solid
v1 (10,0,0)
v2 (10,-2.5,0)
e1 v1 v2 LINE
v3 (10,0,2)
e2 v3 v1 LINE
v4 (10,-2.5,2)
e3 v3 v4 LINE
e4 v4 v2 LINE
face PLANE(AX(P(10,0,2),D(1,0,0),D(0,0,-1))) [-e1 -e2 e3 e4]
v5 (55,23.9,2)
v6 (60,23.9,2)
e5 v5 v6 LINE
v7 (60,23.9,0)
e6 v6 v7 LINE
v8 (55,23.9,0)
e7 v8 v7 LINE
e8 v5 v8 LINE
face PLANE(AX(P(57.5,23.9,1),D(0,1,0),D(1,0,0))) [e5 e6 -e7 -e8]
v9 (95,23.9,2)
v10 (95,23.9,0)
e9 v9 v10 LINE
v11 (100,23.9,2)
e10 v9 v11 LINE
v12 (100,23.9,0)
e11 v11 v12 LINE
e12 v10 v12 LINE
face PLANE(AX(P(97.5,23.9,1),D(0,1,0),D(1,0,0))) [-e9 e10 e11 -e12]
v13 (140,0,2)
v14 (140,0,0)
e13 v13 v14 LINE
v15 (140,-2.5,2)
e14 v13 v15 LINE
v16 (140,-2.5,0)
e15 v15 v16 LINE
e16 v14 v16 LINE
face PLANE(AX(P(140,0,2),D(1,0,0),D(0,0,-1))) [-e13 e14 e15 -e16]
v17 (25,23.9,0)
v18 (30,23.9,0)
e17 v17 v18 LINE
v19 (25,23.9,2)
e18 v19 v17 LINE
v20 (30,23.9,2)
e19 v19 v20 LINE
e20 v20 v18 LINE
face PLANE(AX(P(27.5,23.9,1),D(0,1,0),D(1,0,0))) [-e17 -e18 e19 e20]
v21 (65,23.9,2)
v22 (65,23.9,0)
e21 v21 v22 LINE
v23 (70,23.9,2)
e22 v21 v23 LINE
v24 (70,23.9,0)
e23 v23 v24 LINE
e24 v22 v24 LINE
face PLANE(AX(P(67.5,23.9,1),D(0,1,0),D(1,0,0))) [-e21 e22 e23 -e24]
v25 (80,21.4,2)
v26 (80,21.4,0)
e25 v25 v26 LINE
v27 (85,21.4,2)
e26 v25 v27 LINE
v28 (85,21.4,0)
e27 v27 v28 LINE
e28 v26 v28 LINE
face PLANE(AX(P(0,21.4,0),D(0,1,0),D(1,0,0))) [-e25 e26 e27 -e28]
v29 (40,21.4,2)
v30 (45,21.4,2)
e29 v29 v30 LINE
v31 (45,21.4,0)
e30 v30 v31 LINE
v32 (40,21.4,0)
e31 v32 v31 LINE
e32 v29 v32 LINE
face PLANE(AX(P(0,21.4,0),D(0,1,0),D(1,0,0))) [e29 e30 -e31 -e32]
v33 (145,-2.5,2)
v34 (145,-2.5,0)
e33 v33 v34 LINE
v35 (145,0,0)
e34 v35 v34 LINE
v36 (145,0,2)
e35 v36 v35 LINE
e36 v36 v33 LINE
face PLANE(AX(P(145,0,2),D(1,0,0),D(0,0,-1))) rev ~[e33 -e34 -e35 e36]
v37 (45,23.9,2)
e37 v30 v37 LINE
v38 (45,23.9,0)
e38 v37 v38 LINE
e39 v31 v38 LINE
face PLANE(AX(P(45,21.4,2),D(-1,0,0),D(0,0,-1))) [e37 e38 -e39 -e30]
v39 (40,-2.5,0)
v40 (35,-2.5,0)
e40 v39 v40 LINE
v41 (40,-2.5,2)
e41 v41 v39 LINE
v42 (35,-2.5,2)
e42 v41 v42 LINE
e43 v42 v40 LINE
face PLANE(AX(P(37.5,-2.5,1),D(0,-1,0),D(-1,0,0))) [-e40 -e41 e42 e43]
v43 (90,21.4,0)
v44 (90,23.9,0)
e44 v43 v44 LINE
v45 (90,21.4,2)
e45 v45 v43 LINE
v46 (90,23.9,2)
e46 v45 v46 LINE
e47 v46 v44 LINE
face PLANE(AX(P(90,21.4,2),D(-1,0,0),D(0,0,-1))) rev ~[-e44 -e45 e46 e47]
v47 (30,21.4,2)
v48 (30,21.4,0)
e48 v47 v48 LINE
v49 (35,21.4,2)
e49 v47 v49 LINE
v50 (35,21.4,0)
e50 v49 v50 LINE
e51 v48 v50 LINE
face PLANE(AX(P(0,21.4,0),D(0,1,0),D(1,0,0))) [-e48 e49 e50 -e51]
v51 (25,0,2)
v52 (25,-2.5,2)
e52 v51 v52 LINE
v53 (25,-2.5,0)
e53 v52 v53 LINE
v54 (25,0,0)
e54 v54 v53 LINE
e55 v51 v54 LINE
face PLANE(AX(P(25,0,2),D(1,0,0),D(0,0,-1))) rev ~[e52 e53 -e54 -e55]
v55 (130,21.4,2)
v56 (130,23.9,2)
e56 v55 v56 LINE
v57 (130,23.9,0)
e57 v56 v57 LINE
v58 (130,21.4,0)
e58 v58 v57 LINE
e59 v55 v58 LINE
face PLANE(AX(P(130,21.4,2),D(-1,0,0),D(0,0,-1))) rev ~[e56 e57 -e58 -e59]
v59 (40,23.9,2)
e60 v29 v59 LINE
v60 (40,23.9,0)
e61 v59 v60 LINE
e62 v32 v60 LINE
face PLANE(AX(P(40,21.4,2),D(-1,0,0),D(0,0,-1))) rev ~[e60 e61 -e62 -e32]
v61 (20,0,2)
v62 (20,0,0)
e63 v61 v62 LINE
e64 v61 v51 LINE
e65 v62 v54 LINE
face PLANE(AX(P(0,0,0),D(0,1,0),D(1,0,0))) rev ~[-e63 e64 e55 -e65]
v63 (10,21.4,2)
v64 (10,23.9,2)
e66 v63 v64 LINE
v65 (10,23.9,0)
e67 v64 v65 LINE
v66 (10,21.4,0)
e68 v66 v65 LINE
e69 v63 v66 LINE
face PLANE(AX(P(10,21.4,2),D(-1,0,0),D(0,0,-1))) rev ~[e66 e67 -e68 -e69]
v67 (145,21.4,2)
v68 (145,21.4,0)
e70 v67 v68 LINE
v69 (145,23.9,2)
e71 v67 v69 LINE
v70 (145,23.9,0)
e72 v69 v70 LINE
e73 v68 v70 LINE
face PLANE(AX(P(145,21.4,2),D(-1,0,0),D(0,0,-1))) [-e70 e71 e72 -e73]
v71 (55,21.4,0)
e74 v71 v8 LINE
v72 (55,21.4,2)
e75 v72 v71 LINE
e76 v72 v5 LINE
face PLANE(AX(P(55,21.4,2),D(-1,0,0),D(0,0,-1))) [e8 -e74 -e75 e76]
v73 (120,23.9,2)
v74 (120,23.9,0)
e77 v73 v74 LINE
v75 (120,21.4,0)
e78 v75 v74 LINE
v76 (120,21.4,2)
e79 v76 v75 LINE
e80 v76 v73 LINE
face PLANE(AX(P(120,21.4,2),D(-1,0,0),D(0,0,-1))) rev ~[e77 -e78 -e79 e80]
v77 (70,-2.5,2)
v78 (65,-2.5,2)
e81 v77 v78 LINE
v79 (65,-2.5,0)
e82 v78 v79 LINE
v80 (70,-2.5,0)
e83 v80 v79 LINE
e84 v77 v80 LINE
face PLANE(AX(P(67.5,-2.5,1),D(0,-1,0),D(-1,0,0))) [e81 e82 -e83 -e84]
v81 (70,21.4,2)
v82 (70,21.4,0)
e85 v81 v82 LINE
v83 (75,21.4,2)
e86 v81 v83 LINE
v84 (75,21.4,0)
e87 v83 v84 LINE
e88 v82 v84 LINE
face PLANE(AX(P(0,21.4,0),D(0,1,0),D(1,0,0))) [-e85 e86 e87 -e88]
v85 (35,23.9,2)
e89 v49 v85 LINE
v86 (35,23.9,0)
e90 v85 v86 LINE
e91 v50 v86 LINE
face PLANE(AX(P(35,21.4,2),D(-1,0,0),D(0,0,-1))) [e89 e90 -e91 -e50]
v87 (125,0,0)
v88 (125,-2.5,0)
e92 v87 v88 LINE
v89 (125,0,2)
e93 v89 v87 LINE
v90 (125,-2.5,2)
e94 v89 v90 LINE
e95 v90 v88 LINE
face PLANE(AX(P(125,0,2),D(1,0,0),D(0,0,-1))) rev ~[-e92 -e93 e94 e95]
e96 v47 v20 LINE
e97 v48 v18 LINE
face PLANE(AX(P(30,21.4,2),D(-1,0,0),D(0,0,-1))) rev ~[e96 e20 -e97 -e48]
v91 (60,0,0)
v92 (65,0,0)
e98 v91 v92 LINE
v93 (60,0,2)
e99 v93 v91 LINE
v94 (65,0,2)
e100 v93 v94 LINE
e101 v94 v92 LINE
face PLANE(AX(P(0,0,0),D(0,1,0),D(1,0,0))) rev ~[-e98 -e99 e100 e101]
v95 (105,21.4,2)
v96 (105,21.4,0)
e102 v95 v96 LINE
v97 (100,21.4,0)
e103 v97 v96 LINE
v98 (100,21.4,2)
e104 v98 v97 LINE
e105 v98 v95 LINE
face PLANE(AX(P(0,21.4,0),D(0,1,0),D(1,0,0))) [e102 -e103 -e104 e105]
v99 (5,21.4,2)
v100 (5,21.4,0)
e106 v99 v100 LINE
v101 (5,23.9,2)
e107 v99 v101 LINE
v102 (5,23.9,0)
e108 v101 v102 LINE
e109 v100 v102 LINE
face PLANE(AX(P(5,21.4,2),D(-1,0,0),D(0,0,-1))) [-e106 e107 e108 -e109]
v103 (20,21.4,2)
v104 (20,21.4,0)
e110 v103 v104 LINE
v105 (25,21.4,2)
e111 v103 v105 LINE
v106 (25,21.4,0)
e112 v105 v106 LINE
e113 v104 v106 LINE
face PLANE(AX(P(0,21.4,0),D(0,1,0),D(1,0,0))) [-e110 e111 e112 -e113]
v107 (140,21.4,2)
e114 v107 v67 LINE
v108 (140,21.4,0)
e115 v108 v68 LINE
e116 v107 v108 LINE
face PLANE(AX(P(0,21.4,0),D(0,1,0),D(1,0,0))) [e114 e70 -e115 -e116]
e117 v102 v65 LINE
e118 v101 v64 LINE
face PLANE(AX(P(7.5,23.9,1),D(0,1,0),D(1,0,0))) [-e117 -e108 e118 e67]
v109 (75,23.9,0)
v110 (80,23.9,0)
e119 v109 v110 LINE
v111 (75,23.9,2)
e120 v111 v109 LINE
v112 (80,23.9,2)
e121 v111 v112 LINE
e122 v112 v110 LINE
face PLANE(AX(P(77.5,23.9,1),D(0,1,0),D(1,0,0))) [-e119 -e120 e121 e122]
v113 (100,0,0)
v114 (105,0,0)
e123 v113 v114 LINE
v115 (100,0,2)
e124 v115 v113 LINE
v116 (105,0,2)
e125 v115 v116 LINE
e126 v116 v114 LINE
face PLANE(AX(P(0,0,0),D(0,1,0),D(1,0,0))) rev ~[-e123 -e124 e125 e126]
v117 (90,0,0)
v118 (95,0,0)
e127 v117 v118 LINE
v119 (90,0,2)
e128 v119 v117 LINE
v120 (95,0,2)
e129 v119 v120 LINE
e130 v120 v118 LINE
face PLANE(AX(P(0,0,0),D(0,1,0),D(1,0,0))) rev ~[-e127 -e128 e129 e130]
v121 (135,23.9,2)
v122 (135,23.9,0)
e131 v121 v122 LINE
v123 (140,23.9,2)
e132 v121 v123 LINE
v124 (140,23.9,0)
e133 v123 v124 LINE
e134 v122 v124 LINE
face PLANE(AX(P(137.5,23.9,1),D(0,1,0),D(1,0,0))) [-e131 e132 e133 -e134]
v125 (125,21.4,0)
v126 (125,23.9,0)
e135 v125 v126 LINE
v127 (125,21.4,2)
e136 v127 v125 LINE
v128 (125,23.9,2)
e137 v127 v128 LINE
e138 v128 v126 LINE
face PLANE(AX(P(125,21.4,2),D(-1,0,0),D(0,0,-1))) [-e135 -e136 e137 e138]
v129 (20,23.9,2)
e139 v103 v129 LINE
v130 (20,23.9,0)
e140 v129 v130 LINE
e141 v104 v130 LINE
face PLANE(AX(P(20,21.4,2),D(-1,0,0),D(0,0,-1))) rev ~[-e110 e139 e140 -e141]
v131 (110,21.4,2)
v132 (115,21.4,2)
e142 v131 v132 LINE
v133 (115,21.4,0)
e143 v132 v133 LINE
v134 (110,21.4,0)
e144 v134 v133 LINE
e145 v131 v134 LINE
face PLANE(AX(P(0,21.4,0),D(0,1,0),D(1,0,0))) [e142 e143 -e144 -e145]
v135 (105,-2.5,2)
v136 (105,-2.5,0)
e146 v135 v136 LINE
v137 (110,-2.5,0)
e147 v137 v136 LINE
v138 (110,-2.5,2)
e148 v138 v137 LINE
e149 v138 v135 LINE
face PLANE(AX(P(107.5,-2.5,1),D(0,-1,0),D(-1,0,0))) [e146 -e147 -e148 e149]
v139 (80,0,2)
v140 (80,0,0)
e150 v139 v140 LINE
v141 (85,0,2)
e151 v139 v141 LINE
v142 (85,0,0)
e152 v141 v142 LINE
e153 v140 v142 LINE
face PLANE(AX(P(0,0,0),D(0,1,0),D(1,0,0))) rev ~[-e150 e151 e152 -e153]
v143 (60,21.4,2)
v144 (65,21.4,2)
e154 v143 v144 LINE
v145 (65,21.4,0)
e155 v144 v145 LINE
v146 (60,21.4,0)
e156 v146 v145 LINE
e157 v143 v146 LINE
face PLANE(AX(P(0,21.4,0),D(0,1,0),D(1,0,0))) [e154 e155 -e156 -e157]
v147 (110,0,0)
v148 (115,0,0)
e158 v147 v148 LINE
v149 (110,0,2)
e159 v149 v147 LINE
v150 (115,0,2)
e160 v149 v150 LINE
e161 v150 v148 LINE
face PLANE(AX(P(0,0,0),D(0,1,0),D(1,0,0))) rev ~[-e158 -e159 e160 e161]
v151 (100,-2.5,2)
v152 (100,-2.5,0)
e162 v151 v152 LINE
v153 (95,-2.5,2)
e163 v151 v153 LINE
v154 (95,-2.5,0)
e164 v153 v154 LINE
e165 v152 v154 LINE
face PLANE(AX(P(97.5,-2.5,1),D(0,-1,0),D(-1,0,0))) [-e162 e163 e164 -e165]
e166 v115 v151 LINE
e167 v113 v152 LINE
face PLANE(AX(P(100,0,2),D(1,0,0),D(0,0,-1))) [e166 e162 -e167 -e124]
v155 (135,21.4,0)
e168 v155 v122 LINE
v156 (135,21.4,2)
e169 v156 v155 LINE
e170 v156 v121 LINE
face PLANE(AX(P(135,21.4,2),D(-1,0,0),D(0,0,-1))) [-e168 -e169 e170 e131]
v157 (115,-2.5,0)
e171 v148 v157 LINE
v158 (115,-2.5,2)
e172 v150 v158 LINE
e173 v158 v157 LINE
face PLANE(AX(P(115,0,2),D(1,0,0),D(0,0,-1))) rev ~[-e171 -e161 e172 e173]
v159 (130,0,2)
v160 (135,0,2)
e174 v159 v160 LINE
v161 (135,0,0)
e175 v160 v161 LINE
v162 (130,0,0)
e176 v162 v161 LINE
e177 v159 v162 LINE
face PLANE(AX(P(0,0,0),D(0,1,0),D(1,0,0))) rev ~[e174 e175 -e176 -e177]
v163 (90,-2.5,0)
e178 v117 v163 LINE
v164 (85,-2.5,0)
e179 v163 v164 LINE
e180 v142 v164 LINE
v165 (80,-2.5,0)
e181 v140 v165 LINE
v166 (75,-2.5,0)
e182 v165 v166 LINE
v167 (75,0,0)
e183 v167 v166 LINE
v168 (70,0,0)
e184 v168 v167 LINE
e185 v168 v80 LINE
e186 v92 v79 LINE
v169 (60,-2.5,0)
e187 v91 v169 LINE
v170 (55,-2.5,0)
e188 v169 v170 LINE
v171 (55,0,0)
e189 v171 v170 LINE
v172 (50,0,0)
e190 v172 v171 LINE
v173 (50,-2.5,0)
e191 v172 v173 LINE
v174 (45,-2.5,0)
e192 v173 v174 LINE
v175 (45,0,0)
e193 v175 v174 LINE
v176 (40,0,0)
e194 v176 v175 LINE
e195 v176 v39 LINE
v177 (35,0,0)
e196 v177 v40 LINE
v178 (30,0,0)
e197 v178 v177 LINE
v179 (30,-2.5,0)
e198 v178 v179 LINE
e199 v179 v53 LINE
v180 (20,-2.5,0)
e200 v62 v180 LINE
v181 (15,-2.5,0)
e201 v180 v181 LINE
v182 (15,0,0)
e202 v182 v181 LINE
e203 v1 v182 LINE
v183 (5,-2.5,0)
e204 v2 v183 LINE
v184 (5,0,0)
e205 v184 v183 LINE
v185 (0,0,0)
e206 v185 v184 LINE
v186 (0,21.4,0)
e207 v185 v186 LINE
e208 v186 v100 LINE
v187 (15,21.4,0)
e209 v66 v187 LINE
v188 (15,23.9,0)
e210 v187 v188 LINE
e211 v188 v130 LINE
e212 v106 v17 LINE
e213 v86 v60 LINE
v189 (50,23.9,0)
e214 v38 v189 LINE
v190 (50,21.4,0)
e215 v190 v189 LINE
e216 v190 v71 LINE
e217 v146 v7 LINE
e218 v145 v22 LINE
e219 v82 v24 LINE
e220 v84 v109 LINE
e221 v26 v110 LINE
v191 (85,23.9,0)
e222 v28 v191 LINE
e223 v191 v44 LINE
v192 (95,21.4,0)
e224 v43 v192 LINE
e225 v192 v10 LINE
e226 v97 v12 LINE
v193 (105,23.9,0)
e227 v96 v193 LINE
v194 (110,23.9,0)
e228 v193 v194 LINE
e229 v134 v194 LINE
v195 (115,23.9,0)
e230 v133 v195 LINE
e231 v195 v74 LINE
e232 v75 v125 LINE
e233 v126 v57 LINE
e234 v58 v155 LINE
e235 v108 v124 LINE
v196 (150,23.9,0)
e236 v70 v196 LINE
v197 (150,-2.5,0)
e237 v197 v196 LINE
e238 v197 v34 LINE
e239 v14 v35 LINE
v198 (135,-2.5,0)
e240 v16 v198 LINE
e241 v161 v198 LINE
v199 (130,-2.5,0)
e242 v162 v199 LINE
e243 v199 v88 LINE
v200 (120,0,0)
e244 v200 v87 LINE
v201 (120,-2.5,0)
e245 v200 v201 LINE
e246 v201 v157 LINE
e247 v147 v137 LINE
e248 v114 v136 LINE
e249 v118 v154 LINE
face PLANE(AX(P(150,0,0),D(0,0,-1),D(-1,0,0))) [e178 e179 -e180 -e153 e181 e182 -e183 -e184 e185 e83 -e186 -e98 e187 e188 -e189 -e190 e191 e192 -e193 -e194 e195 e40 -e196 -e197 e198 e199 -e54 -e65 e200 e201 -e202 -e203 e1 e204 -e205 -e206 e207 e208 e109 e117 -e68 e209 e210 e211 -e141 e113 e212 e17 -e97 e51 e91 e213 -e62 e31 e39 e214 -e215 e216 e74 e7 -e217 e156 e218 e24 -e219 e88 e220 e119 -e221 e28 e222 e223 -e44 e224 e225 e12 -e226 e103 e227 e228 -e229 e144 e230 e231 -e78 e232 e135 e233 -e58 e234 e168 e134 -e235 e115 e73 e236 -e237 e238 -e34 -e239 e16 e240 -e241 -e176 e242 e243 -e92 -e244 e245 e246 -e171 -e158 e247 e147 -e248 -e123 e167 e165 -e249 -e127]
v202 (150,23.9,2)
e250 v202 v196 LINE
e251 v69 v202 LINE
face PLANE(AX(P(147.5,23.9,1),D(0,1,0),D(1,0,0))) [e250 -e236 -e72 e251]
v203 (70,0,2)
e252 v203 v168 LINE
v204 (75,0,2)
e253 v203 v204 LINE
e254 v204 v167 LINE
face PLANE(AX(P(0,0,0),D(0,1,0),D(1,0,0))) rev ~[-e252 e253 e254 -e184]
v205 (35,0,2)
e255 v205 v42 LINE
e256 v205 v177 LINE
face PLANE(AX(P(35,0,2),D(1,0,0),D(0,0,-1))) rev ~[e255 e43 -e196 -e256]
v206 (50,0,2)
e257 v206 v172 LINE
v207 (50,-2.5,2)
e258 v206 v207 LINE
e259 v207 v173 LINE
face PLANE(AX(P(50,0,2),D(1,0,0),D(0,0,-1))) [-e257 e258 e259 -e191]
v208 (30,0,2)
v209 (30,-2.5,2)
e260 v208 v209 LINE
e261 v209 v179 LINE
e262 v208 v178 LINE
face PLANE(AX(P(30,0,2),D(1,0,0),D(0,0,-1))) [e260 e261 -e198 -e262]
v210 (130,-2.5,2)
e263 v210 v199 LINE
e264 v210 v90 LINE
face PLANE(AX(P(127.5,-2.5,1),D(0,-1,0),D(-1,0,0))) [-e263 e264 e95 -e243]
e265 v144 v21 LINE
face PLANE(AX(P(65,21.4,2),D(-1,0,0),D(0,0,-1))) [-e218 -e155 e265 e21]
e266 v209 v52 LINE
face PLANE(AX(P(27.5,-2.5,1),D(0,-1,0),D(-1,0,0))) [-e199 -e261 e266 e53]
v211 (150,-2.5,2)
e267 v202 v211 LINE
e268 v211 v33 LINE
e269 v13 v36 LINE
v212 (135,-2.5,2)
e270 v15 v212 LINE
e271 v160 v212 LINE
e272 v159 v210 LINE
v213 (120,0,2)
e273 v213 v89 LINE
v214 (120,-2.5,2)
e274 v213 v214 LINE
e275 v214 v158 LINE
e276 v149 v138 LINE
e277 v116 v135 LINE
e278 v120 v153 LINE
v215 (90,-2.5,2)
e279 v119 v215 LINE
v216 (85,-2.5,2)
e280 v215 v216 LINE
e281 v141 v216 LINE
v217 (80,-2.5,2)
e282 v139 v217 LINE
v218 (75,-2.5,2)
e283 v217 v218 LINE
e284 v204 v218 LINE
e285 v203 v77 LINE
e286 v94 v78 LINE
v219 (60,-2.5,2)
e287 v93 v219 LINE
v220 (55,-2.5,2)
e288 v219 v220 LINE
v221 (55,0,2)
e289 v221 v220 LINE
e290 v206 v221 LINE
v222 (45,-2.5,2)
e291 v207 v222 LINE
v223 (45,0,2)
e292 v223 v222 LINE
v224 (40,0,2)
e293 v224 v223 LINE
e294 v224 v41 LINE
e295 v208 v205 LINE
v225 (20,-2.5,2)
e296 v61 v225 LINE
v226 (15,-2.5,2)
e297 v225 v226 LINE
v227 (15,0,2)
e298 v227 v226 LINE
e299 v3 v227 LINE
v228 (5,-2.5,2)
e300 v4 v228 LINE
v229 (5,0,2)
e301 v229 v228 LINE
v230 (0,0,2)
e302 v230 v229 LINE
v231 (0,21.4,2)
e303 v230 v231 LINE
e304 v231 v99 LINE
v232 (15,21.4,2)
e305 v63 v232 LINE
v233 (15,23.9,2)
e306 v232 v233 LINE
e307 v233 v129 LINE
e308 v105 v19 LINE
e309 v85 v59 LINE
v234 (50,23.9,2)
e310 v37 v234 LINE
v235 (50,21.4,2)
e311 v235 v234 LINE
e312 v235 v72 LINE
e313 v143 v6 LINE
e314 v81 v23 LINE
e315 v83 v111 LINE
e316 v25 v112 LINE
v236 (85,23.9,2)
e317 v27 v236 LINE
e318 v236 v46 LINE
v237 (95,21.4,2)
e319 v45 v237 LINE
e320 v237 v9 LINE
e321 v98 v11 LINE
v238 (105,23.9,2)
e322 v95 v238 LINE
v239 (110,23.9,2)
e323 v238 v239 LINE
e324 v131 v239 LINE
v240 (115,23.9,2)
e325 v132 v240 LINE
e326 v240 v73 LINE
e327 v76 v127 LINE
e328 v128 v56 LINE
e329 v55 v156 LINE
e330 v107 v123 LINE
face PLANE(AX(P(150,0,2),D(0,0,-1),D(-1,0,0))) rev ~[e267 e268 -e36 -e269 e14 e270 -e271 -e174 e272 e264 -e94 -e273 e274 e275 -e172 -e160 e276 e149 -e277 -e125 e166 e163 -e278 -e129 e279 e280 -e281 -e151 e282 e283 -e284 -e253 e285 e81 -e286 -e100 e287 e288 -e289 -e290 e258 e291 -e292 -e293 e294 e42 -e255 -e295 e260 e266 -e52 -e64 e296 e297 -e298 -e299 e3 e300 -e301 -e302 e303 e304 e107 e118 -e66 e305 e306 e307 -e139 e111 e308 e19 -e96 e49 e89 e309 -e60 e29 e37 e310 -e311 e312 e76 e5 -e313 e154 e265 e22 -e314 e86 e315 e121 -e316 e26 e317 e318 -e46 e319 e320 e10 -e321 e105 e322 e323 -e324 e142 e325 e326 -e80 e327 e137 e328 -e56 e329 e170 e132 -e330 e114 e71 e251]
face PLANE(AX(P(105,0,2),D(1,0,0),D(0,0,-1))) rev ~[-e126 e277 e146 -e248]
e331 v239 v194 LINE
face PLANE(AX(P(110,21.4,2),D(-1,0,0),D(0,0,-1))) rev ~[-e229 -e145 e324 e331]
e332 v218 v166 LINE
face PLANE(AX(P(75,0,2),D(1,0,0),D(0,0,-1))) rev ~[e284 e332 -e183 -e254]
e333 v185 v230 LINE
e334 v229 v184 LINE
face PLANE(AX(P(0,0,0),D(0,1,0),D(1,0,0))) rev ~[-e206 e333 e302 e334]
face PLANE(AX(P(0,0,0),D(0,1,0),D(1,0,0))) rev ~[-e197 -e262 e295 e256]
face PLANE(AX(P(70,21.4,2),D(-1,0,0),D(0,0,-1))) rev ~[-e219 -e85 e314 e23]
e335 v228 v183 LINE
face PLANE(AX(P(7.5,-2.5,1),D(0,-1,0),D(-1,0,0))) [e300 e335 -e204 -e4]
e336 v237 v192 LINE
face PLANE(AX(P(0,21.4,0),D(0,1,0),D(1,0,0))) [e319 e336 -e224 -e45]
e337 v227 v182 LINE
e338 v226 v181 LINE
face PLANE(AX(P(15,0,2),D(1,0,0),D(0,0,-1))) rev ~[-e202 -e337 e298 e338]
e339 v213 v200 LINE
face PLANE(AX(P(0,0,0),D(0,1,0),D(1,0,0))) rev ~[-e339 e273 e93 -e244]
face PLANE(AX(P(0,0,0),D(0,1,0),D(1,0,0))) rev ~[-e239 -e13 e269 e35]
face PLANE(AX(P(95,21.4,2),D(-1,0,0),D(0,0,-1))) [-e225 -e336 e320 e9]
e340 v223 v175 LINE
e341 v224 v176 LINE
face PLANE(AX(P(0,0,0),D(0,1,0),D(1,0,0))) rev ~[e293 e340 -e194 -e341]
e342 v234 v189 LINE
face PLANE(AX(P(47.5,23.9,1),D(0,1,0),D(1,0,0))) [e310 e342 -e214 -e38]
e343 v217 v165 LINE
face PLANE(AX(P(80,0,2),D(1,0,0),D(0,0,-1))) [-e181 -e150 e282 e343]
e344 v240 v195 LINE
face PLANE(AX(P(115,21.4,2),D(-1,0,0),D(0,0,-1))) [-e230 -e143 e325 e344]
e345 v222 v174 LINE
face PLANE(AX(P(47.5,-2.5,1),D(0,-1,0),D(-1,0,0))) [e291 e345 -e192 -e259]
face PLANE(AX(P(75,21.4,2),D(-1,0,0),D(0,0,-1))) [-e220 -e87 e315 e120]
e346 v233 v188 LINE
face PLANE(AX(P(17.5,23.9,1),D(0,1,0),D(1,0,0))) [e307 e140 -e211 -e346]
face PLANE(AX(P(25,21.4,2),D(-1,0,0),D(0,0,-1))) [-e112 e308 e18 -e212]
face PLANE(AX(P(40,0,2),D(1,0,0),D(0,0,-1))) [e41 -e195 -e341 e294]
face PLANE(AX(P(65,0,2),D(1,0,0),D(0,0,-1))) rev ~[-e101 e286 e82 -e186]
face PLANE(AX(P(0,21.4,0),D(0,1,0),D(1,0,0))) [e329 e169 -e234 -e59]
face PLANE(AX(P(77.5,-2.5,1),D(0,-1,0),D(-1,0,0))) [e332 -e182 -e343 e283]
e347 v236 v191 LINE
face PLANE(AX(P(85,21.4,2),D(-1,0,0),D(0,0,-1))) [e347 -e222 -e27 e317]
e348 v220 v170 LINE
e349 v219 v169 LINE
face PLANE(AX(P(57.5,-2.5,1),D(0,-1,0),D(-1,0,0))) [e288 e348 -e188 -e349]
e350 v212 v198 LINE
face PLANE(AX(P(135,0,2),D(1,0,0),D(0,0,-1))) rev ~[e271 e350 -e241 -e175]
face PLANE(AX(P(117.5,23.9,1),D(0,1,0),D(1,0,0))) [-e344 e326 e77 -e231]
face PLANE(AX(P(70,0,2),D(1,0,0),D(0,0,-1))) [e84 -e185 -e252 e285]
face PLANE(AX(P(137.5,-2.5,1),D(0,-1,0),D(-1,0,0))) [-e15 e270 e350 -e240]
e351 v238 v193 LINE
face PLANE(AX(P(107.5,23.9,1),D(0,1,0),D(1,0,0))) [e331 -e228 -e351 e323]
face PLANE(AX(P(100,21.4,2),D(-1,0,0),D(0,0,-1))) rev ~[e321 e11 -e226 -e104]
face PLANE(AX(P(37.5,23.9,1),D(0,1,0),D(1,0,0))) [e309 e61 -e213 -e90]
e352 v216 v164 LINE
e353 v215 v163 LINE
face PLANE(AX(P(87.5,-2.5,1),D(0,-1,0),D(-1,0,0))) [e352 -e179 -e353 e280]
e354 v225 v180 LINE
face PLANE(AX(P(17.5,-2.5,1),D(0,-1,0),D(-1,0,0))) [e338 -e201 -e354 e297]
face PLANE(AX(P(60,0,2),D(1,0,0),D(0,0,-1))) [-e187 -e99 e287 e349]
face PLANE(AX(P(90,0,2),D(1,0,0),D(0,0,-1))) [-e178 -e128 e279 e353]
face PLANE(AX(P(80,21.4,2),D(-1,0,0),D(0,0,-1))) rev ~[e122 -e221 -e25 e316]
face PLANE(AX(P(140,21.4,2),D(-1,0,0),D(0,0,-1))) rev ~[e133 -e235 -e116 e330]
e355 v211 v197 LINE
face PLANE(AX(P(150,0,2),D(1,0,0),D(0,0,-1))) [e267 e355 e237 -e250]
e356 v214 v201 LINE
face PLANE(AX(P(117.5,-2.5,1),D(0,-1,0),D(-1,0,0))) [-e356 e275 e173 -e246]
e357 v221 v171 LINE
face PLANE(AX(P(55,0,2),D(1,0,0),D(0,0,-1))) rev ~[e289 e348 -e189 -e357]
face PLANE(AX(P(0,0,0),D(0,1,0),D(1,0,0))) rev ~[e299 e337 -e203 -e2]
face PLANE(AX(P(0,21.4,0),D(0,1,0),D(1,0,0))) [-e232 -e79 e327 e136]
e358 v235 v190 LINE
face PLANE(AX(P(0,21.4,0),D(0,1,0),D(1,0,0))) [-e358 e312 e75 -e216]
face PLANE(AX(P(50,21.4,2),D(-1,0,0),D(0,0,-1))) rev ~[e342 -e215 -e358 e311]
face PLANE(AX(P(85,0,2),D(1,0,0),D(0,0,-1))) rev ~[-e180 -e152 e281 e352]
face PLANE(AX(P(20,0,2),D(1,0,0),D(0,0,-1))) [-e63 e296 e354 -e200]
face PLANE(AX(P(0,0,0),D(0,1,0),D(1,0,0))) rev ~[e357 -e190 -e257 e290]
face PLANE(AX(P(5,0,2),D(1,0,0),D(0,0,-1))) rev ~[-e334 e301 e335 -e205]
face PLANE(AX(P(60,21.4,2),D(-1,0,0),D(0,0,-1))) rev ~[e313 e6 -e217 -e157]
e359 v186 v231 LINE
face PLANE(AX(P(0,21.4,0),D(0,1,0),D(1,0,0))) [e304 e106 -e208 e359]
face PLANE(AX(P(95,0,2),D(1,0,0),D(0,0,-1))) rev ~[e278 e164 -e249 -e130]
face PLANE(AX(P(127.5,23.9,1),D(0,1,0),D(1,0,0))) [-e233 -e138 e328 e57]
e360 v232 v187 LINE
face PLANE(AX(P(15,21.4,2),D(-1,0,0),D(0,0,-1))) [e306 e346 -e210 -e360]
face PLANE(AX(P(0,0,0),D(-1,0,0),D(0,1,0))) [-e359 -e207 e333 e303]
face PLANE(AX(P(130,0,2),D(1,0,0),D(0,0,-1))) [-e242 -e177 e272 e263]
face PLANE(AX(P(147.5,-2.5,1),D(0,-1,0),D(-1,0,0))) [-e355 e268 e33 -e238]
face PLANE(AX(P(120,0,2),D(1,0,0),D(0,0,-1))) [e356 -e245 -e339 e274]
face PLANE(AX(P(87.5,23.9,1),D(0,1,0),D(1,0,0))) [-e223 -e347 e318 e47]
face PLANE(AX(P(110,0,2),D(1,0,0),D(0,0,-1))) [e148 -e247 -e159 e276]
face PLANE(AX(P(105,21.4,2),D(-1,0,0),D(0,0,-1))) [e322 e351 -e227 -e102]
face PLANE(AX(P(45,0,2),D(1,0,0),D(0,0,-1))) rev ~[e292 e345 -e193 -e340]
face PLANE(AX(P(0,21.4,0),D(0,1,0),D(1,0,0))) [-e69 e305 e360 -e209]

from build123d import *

# Parameters (mm, degrees)
SKETCH1_W           = 150
SKETCH1_H           = 21.4
BOSS_EXTRUDE2_DEPTH = 2
SKETCH2_W           = 5
SKETCH2_H           = 2
BOSS_EXTRUDE3_DEPTH = 2.5
LPATTERN1_COUNT     = 15
LPATTERN1_PITCH     = 10
SKETCH3_W           = 5
SKETCH3_H           = 2
BOSS_EXTRUDE4_DEPTH = 2.5
LPATTERN2_COUNT     = 15
LPATTERN2_PITCH     = 10


with BuildPart() as part:
    # Sketch1 → Boss-Extrude2 (new body)
    with BuildSketch(Plane.XY):
        with Locations((75, 10.7)):
            Rectangle(SKETCH1_W, SKETCH1_H)
    extrude(amount=BOSS_EXTRUDE2_DEPTH)

    # Sketch2 → Boss-Extrude3 (add)
    with BuildSketch(Plane(origin=(0, 21.4, 0), x_dir=(1, 0, 0), z_dir=(0, 1, 0))):
        with Locations((7.5, -1)):
            Rectangle(SKETCH2_W, SKETCH2_H)
    boss_extrude3 = extrude(amount=BOSS_EXTRUDE3_DEPTH)

    # LPattern1: Boss-Extrude3 ×15
    with Locations(*[(i * LPATTERN1_PITCH, 0, 0) for i in range(1, LPATTERN1_COUNT)]):
        add(boss_extrude3)

    # Sketch3 → Boss-Extrude4 (add)
    with BuildSketch(Plane(origin=(0, 0, 0), x_dir=(-1, 0, 0), z_dir=(0, -1, 0))):
        with Locations((-7.5, -1)):
            Rectangle(SKETCH3_W, SKETCH3_H)
    boss_extrude4 = extrude(amount=BOSS_EXTRUDE4_DEPTH)

    # LPattern2: Boss-Extrude4 ×15
    with Locations(*[(i * LPATTERN2_PITCH, 0, 0) for i in range(1, LPATTERN2_COUNT)]):
        add(boss_extrude4)


solid = part.part
